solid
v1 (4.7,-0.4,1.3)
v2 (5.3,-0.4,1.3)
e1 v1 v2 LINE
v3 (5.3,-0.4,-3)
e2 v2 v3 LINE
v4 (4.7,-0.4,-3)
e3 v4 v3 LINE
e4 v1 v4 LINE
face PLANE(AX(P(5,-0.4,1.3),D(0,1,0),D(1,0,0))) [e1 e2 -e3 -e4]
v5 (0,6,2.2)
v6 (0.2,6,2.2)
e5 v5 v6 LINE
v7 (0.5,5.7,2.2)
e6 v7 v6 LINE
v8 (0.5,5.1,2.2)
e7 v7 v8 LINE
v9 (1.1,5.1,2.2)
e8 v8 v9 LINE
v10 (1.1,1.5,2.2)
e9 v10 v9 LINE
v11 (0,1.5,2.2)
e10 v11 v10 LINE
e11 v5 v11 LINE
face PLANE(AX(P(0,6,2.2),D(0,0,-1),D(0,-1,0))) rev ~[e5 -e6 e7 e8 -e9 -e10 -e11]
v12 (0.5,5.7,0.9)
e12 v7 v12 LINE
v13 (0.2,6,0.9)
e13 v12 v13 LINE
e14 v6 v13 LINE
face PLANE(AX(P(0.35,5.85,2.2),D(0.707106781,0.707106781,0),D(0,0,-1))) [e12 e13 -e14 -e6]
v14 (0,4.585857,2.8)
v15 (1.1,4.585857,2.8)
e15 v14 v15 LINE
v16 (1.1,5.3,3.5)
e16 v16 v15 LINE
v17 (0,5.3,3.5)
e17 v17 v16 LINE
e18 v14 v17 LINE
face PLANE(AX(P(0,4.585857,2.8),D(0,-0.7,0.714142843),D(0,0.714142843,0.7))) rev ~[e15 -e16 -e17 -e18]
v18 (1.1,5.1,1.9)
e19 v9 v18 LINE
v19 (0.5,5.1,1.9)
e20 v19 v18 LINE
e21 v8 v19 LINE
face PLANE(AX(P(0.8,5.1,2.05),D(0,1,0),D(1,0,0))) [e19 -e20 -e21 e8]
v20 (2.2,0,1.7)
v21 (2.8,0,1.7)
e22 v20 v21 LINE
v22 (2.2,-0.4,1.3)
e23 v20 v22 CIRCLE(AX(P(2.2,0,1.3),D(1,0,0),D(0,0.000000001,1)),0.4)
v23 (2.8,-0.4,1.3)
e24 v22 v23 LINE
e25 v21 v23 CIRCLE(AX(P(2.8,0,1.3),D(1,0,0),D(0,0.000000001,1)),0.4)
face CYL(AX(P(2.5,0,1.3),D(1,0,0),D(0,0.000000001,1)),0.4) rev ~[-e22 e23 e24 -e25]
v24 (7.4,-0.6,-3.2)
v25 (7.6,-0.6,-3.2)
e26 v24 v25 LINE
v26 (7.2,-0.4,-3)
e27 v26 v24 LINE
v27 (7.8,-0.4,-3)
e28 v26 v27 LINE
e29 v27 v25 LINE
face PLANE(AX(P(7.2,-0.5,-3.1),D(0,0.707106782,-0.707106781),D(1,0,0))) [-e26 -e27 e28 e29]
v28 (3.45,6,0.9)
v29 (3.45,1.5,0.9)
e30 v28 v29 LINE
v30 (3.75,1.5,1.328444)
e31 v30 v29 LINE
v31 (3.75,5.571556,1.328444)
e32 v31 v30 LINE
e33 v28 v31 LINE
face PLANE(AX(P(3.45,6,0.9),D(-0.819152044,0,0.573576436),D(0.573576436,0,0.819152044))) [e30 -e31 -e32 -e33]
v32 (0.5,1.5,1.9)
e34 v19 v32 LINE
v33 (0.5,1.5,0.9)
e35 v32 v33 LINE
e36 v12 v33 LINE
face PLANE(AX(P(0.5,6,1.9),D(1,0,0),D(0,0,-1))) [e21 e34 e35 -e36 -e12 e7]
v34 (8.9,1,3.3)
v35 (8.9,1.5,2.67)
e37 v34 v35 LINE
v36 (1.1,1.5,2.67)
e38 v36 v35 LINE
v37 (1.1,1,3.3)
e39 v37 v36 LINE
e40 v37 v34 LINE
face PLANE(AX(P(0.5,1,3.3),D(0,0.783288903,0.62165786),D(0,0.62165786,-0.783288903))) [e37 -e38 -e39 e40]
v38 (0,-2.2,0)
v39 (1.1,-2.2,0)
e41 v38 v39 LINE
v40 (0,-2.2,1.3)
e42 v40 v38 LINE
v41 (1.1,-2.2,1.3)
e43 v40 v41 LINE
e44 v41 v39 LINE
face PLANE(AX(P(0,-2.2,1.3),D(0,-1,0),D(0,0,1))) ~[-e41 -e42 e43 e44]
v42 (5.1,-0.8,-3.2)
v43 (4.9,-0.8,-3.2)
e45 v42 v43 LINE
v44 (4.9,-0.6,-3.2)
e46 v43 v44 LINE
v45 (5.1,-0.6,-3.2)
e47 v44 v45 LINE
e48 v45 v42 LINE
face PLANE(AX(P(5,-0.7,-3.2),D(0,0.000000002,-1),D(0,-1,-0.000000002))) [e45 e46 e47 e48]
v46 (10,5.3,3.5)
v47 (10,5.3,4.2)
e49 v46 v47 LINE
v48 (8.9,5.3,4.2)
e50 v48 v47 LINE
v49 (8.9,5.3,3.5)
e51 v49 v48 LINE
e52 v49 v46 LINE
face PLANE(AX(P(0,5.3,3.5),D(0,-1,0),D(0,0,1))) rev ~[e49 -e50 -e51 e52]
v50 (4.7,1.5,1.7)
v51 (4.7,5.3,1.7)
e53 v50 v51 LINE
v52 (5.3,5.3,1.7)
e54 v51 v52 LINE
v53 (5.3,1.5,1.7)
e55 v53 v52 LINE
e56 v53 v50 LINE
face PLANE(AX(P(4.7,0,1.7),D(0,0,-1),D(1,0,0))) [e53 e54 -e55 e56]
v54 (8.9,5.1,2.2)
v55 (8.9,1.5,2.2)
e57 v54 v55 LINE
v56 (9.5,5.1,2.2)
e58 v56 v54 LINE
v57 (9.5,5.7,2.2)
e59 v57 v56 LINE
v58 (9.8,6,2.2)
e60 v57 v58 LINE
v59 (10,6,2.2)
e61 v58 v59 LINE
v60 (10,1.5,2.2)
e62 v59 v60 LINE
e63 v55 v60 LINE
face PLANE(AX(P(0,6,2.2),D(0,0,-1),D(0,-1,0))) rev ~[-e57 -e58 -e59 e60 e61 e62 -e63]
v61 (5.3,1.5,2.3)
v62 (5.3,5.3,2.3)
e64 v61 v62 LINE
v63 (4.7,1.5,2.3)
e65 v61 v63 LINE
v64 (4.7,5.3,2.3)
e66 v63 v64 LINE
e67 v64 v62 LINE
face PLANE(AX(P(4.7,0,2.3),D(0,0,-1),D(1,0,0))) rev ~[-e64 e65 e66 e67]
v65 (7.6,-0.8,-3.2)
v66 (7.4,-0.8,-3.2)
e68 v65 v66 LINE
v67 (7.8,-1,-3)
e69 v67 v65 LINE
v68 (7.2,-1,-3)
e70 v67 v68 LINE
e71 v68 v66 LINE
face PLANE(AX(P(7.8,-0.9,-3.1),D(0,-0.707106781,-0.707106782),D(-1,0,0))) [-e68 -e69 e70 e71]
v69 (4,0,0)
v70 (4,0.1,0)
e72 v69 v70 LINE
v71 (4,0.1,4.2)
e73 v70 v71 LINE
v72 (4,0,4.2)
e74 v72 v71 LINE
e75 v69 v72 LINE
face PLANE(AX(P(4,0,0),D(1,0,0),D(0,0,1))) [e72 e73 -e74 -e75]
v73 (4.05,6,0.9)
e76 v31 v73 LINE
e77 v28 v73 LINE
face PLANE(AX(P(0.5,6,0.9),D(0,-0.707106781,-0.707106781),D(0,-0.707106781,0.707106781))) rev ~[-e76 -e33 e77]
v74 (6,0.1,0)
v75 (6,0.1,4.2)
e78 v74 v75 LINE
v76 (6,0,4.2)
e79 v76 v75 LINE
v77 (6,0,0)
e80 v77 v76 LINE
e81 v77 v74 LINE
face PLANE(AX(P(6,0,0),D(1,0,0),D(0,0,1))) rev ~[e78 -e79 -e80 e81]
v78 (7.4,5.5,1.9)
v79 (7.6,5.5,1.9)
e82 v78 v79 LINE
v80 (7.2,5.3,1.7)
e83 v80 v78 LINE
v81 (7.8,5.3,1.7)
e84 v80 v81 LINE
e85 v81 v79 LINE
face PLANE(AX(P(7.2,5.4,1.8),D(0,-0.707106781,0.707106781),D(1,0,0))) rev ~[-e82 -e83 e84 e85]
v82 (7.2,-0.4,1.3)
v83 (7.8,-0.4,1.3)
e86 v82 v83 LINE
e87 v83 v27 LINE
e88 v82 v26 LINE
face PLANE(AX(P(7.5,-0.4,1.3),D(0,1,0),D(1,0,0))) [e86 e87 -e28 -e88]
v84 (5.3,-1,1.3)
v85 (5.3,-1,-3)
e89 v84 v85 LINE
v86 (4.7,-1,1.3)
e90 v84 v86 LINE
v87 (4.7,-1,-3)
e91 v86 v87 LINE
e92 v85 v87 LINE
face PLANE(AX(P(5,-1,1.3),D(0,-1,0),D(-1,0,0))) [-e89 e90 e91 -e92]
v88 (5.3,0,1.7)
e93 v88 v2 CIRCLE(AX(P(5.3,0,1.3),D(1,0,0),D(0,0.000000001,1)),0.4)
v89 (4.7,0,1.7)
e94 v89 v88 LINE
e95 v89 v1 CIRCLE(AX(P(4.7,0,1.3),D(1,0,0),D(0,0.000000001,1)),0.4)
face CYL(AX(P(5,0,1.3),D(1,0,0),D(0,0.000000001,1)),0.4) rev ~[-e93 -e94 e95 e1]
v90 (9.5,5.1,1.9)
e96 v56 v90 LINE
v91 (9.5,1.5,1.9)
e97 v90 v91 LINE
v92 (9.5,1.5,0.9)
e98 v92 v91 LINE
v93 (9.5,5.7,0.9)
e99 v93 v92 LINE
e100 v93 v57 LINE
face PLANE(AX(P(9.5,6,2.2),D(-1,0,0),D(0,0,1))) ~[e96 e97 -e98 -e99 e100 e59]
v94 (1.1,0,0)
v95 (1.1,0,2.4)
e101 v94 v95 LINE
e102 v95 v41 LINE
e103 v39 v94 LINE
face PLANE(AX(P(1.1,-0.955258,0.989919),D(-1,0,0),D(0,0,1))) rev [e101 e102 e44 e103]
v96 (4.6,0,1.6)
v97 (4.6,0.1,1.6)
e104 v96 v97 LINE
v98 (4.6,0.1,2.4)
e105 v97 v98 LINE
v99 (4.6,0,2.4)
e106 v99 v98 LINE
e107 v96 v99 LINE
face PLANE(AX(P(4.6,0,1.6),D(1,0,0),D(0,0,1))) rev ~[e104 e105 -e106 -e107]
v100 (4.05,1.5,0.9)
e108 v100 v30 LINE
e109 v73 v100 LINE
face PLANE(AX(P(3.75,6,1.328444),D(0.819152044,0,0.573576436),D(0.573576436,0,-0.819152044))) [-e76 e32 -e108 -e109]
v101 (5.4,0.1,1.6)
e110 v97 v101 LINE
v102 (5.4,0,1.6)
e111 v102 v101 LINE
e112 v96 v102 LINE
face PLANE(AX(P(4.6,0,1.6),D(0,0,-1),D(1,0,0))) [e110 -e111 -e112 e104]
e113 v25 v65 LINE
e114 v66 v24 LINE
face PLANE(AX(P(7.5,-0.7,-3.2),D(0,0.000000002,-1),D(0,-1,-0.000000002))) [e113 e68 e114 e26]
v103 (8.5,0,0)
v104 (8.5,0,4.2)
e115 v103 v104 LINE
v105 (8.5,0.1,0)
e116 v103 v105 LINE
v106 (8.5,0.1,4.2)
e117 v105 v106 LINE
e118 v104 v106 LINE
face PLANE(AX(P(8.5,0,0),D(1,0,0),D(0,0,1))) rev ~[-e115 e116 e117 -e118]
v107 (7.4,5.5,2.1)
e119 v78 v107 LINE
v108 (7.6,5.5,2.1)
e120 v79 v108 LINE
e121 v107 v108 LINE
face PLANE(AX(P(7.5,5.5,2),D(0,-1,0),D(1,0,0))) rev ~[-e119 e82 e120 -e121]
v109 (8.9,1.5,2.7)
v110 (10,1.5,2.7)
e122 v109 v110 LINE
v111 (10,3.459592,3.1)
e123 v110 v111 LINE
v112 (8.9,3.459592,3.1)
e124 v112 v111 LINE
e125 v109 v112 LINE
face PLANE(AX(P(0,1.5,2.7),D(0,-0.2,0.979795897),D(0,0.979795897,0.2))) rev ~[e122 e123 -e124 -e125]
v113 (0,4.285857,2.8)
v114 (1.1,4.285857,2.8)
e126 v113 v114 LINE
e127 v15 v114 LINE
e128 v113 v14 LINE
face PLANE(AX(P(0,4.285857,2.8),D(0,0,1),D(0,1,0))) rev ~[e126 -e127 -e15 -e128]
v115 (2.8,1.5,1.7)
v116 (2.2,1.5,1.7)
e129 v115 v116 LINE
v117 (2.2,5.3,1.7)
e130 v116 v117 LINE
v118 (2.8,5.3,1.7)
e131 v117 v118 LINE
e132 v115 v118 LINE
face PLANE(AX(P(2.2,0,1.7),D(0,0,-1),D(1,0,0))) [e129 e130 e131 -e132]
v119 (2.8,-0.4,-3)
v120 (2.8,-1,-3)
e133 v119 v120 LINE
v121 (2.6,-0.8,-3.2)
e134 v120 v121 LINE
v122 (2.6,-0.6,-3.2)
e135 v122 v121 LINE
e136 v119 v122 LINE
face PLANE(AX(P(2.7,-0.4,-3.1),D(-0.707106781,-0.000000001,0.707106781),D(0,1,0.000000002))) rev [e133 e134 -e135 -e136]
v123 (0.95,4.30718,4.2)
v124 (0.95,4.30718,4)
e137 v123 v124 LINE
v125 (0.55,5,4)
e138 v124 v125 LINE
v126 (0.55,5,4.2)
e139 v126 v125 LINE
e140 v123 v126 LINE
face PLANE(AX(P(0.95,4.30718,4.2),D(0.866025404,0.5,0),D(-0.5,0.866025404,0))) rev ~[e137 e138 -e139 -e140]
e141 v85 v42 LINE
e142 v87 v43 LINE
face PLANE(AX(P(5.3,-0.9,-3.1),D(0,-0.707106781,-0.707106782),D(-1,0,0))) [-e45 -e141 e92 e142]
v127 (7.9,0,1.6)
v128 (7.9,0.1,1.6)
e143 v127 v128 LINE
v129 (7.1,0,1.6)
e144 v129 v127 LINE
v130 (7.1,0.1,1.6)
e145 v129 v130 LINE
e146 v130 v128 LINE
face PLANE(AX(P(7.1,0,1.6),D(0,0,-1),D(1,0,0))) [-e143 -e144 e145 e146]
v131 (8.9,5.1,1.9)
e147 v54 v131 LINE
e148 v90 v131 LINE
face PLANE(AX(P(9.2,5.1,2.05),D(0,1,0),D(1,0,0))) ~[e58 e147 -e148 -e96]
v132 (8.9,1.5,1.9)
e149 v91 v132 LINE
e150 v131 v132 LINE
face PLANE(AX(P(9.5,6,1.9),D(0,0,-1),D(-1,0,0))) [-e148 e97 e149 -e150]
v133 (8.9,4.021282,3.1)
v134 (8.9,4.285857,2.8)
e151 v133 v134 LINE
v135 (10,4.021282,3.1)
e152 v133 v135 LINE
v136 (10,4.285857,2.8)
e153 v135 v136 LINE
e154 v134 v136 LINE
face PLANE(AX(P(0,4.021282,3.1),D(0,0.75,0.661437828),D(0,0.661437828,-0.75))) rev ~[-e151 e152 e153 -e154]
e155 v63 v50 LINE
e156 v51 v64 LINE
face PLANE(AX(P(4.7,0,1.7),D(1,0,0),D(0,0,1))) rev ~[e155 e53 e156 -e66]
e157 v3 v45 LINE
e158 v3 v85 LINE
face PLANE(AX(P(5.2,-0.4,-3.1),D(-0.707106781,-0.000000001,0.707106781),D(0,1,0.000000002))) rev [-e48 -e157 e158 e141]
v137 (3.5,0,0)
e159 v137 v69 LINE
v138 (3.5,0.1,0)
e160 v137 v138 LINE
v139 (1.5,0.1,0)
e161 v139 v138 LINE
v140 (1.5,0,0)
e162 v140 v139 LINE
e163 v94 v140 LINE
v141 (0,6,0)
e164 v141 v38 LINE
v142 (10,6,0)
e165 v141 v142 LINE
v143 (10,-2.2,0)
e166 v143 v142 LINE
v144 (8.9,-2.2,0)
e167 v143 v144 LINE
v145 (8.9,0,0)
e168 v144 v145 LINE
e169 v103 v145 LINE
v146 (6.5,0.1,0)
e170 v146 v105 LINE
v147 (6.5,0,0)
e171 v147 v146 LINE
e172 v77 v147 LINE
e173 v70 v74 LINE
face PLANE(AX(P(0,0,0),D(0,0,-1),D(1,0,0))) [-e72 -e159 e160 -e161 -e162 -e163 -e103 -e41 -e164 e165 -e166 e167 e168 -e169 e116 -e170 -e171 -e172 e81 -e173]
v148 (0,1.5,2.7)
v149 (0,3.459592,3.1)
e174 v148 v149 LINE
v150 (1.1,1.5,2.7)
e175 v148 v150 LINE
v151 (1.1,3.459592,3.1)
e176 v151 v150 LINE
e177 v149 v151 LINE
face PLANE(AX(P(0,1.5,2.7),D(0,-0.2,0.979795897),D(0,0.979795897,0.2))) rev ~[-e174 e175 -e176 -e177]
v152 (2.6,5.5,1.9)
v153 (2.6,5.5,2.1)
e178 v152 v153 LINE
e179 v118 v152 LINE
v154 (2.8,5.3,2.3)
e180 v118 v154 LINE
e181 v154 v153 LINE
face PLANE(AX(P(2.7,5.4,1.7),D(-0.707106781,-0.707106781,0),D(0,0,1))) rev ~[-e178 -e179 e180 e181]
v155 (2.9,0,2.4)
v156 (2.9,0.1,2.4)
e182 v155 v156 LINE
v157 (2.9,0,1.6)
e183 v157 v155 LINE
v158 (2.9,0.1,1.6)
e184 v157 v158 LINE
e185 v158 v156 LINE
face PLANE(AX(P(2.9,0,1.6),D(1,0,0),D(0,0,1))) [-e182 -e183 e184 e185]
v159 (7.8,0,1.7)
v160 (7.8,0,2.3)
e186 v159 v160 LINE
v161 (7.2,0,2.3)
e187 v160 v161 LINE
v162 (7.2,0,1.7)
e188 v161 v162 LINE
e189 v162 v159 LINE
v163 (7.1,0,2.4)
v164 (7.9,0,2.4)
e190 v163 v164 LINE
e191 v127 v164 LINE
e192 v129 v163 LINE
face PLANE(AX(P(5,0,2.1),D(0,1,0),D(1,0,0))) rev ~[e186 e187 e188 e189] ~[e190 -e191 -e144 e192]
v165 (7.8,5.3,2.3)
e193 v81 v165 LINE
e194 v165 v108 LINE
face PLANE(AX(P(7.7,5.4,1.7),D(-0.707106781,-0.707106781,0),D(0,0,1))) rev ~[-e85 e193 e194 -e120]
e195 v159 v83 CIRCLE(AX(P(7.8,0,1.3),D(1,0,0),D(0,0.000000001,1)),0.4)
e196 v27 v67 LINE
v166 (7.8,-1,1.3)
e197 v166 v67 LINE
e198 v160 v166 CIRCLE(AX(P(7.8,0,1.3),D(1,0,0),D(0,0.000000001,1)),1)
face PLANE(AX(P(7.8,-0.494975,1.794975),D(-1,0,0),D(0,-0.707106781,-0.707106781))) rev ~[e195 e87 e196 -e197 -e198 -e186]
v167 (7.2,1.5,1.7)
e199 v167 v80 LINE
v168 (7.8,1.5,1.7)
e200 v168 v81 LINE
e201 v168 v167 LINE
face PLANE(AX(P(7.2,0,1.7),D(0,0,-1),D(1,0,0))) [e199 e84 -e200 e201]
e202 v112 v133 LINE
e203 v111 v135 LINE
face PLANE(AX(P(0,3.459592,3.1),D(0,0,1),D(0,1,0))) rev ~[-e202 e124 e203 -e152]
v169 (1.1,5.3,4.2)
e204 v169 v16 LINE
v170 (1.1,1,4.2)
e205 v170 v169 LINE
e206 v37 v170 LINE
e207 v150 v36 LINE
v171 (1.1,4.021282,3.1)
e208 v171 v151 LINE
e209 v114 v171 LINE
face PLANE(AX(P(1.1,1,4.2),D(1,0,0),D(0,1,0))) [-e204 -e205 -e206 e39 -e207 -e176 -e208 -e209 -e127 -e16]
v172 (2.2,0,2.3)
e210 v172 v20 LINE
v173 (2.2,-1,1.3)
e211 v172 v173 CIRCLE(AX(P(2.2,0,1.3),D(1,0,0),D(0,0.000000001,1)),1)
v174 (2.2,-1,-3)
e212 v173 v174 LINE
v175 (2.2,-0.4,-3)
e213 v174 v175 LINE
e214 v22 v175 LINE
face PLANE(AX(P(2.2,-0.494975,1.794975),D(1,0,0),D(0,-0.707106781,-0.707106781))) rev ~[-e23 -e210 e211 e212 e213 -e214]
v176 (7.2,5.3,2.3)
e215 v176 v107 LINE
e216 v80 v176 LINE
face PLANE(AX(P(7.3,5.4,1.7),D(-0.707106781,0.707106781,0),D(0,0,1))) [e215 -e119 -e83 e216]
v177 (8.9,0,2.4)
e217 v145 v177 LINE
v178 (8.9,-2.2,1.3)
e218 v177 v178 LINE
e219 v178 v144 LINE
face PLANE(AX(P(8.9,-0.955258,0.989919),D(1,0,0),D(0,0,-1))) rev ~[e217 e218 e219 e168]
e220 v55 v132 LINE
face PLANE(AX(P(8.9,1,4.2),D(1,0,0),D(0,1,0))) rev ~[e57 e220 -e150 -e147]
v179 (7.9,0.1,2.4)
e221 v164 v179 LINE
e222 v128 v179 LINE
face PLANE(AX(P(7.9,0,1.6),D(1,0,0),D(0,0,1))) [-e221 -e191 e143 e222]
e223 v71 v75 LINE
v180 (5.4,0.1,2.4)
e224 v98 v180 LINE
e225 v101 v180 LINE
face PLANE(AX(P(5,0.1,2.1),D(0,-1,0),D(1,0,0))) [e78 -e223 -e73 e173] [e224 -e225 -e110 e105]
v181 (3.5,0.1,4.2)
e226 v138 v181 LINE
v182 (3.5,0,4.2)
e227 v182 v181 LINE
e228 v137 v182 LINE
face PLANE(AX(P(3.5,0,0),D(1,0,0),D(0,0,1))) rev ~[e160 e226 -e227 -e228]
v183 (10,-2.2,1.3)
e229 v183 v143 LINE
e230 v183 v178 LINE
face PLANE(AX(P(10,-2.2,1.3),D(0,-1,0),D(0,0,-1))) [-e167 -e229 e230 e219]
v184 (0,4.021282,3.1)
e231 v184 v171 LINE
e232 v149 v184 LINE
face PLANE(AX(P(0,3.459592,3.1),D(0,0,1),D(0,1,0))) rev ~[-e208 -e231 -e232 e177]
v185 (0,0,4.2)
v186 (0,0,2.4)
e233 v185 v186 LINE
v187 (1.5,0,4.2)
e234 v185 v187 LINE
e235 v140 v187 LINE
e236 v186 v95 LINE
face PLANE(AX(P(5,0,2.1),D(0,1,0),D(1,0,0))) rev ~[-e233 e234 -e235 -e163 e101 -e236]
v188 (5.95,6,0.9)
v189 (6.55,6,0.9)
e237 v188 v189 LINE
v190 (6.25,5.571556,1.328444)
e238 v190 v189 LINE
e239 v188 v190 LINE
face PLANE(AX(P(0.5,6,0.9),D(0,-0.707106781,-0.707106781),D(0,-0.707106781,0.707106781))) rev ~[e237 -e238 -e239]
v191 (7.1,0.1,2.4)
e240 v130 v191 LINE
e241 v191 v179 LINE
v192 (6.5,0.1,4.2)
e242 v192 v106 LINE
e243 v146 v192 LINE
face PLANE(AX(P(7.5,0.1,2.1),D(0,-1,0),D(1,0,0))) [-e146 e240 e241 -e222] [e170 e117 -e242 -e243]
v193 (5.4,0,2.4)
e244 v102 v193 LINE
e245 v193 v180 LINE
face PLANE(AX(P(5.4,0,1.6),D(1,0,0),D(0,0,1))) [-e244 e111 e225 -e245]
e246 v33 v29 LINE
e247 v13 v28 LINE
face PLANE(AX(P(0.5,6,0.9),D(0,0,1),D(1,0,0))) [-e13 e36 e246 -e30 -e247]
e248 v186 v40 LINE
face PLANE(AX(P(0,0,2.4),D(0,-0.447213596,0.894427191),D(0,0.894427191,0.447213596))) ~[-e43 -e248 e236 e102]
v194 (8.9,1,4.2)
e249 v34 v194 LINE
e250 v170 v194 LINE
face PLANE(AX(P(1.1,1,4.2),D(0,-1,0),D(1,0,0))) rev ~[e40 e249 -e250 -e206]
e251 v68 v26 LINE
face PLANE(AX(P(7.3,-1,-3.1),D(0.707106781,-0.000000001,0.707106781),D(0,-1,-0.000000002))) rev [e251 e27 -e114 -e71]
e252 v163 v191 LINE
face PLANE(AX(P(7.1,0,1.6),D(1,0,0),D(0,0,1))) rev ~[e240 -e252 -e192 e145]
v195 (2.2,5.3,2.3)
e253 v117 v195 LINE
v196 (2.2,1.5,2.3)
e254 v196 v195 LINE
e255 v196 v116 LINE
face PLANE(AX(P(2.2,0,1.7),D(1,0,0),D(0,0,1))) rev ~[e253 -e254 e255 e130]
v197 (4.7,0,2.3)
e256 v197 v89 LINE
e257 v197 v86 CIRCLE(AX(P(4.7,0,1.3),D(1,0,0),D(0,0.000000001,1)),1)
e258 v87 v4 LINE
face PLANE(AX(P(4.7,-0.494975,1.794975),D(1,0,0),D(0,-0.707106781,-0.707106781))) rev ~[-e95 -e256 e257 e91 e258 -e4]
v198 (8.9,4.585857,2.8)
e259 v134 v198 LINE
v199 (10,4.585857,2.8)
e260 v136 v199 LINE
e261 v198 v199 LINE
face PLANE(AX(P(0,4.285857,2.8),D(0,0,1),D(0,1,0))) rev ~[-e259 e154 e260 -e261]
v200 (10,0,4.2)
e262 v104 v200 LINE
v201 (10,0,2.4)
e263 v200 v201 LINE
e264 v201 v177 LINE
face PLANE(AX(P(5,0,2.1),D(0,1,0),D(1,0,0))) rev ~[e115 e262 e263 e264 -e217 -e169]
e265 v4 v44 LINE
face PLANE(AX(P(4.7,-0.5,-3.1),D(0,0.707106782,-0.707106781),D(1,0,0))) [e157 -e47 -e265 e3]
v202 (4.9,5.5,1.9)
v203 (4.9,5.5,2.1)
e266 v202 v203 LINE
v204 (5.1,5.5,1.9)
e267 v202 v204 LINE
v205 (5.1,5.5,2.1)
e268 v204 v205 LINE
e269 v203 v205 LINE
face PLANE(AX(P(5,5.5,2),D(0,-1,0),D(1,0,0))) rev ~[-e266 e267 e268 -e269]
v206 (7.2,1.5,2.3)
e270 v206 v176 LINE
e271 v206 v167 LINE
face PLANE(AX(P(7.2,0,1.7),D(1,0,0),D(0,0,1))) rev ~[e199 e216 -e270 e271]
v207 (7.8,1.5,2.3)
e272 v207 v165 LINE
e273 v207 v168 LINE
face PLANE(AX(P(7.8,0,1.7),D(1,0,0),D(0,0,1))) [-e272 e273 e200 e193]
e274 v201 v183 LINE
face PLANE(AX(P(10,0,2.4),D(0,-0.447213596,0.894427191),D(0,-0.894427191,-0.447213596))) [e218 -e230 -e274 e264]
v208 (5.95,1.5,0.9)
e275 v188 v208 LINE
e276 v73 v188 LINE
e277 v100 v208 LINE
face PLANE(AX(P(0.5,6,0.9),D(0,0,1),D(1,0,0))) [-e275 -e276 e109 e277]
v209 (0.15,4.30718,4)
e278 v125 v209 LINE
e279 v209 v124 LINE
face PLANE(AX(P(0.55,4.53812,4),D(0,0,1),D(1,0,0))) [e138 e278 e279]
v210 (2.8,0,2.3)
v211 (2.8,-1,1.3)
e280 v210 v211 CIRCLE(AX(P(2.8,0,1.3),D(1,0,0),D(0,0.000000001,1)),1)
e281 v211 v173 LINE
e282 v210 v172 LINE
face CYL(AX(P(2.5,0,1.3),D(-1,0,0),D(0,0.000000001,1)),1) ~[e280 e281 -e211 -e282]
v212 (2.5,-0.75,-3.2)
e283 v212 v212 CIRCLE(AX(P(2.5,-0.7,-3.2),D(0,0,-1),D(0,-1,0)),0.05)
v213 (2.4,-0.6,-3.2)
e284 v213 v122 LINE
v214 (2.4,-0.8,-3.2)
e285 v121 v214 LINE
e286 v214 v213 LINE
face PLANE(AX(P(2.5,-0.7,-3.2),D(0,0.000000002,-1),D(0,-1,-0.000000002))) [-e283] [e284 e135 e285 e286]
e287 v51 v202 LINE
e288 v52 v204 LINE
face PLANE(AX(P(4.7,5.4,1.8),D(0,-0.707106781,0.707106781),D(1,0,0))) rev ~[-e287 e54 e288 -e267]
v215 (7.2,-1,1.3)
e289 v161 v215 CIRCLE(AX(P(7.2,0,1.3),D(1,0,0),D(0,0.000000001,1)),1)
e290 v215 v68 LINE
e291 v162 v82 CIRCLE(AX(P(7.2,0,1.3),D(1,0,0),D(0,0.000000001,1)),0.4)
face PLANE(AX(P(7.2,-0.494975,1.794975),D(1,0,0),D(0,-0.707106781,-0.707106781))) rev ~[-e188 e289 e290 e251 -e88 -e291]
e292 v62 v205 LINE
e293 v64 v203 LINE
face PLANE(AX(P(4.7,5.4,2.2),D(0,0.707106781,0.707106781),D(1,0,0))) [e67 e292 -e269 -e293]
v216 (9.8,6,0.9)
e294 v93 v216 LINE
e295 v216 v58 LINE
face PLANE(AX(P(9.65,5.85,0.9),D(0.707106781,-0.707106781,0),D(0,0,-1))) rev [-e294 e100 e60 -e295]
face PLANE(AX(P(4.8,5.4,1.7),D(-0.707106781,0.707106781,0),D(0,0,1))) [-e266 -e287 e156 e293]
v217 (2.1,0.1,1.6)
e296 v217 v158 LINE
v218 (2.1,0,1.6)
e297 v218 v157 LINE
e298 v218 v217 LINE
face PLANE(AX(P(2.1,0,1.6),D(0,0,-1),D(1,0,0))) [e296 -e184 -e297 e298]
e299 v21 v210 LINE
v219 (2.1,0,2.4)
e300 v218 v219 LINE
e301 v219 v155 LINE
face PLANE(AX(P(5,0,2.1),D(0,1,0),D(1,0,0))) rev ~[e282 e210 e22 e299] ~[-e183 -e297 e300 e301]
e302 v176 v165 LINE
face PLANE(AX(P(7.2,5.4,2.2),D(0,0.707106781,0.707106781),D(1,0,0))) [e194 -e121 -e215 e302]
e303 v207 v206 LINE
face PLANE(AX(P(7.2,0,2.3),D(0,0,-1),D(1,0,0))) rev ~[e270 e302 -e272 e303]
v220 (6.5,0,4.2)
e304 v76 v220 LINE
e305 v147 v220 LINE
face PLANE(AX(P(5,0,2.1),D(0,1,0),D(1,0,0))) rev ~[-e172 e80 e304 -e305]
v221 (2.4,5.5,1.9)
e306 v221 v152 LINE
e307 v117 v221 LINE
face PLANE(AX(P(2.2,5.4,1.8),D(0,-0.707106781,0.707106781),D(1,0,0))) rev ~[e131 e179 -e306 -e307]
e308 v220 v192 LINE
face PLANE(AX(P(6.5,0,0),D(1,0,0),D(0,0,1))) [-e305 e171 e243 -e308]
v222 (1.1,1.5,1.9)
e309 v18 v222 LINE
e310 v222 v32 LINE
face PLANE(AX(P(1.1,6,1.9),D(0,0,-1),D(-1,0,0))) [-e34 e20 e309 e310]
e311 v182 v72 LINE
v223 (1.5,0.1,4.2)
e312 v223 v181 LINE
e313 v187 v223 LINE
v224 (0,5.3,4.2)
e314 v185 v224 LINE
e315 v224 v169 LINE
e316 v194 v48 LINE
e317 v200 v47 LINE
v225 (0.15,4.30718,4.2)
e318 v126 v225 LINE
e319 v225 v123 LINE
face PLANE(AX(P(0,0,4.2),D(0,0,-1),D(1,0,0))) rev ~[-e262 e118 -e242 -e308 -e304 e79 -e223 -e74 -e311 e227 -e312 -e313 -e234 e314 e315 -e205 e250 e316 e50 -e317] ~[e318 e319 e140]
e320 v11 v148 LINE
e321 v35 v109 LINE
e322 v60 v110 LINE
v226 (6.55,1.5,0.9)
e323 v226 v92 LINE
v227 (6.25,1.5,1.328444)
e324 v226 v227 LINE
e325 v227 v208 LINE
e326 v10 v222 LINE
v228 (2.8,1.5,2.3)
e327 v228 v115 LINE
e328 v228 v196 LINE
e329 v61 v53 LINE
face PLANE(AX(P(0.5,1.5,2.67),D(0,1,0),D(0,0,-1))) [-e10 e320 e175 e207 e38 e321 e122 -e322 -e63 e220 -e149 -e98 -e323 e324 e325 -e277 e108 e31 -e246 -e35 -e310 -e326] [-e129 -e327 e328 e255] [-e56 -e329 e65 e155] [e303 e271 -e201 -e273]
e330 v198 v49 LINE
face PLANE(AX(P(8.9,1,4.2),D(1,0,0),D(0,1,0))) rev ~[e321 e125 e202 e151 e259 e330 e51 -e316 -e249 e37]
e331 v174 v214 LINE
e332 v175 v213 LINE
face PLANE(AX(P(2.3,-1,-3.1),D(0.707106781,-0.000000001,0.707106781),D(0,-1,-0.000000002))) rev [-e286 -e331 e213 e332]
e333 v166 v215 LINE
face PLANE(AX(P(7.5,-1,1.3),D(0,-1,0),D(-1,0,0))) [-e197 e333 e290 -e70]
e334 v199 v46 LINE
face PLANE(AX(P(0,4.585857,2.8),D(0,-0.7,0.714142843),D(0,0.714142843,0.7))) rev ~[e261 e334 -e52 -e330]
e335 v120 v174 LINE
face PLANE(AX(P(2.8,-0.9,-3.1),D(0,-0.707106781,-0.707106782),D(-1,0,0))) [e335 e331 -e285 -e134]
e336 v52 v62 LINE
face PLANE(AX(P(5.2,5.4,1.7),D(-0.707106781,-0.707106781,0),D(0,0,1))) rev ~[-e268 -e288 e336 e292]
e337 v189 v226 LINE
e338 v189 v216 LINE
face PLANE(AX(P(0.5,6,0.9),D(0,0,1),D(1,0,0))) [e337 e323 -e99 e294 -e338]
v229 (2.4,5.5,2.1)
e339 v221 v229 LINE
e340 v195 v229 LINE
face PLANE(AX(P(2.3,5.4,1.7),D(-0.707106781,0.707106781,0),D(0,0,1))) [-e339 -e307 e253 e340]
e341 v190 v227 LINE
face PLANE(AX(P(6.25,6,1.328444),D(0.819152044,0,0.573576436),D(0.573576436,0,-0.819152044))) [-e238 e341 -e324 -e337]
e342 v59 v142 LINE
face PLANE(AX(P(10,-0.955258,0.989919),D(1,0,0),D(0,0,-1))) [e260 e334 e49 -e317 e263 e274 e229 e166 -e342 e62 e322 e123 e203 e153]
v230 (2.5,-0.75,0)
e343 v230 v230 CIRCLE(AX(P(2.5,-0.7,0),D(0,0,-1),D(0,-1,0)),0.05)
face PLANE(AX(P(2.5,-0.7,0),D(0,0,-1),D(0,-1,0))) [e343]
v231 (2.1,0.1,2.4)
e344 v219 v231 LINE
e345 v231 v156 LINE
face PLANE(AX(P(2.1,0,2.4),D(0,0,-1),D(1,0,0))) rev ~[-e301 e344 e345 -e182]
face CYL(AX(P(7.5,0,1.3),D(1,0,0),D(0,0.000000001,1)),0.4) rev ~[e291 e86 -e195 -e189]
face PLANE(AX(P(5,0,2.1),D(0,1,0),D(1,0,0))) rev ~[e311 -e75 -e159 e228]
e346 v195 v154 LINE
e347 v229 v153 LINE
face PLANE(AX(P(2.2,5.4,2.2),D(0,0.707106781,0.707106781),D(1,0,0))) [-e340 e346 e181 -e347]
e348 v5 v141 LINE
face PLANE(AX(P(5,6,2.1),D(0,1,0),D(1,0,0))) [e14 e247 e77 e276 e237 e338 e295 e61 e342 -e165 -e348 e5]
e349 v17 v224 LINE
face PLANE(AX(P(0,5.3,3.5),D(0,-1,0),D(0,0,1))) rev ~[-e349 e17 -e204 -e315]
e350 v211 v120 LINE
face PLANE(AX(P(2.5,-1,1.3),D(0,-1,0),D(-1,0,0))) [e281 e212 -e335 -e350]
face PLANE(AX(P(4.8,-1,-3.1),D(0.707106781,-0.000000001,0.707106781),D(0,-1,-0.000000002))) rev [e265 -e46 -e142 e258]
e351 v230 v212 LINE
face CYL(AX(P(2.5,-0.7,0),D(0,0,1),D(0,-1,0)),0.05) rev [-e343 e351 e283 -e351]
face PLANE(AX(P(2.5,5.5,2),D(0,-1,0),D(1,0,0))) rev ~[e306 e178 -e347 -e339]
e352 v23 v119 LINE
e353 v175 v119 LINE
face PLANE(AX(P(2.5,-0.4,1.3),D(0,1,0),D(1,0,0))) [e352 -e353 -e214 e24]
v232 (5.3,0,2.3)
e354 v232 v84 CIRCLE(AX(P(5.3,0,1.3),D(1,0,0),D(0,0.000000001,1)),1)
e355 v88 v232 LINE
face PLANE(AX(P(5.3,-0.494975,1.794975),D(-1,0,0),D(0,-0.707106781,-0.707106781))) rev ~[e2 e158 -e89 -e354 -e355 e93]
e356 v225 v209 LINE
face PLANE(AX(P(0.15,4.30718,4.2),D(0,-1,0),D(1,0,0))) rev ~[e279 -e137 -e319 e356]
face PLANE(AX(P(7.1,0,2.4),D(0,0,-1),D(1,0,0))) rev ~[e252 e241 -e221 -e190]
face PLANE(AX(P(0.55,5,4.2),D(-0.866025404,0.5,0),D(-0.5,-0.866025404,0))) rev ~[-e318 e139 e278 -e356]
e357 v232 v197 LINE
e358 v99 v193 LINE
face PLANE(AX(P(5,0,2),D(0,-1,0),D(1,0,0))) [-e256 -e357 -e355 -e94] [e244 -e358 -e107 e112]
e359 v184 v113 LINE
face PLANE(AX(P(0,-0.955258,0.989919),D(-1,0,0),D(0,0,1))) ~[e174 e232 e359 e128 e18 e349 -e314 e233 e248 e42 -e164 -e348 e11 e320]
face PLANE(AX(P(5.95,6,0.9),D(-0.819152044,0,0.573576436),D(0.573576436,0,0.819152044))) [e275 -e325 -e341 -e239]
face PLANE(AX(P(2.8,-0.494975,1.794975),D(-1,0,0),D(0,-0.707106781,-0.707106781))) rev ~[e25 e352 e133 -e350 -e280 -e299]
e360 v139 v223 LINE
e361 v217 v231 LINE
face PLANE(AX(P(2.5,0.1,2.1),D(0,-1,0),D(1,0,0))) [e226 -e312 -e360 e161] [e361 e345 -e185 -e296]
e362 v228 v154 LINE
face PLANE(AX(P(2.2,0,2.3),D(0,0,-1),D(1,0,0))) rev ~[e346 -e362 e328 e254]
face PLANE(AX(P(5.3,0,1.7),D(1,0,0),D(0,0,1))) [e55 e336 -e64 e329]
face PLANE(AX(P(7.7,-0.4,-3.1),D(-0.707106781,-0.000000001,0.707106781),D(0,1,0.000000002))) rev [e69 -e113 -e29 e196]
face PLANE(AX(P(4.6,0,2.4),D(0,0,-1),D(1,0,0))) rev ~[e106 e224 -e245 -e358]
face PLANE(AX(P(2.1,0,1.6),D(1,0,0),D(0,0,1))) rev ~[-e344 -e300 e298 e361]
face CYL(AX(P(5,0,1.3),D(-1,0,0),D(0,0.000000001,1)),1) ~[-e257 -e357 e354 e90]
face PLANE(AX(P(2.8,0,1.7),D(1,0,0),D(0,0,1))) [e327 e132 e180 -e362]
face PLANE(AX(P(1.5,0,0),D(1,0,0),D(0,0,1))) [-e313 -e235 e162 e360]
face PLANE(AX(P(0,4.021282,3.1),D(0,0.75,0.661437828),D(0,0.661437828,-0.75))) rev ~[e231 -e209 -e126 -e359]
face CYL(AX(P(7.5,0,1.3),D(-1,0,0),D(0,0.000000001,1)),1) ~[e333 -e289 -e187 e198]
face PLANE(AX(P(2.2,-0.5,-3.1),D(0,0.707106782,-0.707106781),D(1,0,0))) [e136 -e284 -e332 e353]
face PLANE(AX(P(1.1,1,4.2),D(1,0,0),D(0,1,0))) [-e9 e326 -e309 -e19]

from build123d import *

# Parameters (mm, degrees)
SKETCH_1_W                         = 10
SKETCH_1_H                         = 4.2
EXTRUDE_1_DEPTH                    = 6
CUT_EXTRUDE_1_DEPTH                = 5
CUT_EXTRUDE_2_DEPTH                = 13.395160346
EXTRUDE_6_DEPTH                    = 1.1
CUT_EXTRUDE_3_REACH                = 14.395
SKETCH_5_W                         = 7.8
SKETCH_5_H                         = 4.3
EXTRUDE_3_REACH                    = 13.995
EXTRUDE_5_REACH                    = 15.597
SKETCH_11_W                        = 2
SKETCH_11_H                        = 4.2
SKETCH_11_W_2                      = 0.8
SKETCH_11_H_2                      = 0.8
CUT_EXTRUDE_5_DEPTH                = 0.1
SKETCH_15_R                        = 0.05
CUT_EXTRUDE_6_DEPTH                = 0.1
PATTERN_LINEAR_2_COUNT             = 2
PATTERN_LINEAR_2_PITCH             = 2.5
CUT_EXTRUDE_7_DEPTH                = 0.2
SKETCH_7_W                         = 0.6
SKETCH_7_H                         = 0.6
EXTRUDE_4_DEPTH                    = 5.5
SKETCH_18_W                        = 0.6
SKETCH_18_H                        = 0.6
CHAMFER_6_SIZE                     = 0.2
PATTERN_LINEAR_1_COUNT             = 3
PATTERN_LINEAR_1_PITCH             = 2.5
CHAMFER_6_OF_PATTERN_LINEAR_1_SIZE = 0.2
CUT_EXTRUDE_4_REACH                = 13.995
SKETCH_20_W                        = 0.6
SKETCH_20_H                        = 0.3
CUT_EXTRUDE_9_DEPTH                = 0.9
CHAMFER_5_SIZE                     = 0.3
SKETCH_19_R                        = 0.05
CUT_EXTRUDE_8_DEPTH                = 3.2


with BuildPart() as part:
    # Эскиз1 → Бобышка-Вытянуть1 (new body)
    with BuildSketch(Plane(origin=(0, 0, 0), x_dir=(1, 0, 0), z_dir=(0, 1, 0))):
        with Locations((5, -2.1)):
            Rectangle(SKETCH_1_W, SKETCH_1_H)
    extrude(amount=EXTRUDE_1_DEPTH)

    # Эскиз2 → Вырез-Вытянуть1 (cut)
    with BuildSketch(Plane(origin=(0, 6, 0), x_dir=(1, 0, 0), z_dir=(0, 1, 0))):
        Polygon((0.5, -0.9), (9.5, -0.9), (9.5, -1.9), (8.9, -1.9), (8.9, -3.7), (1.1, -3.7), (1.1, -1.9), (0.5, -1.9), align=None)
    extrude(amount=-CUT_EXTRUDE_1_DEPTH, mode=Mode.SUBTRACT)

    # Эскиз3 → Вырез-Вытянуть2 (cut, through all)
    with BuildSketch(Plane.ZY):
        Polygon((2.2, 6), (2.2, 1.5), (2.7, 1.5), (3.1, 3.459591794), (3.1, 4.021282026), (2.8, 4.285857157), (2.8, 4.585857157), (3.5, 5.3), (4.2, 5.3), (4.2, 6), align=None)
    extrude(amount=-CUT_EXTRUDE_2_DEPTH, mode=Mode.SUBTRACT)

    # Эскиз16 → Бобышка-Вытянуть6 (add)
    with BuildSketch(Plane(origin=(10, 0, 0), x_dir=(0, 0, -1), z_dir=(1, 0, 0))):
        Polygon((-2.4, 0), (-1.3, -2.2), (0, -2.2), (0, 0), align=None)
    extrude_6 = extrude(amount=-EXTRUDE_6_DEPTH)

    # Зеркальное отражение2: Бобышка-Вытянуть6 across plane
    add(extrude_6.mirror(Plane(origin=(5, 0, 0), x_dir=(0, 0, 1), z_dir=(1, 0, 0))))

    # Эскиз5 → Вырез-Вытянуть3 (cut, up to next)
    with BuildSketch(Plane.XY.offset(4.2), mode=Mode.PRIVATE) as cut_extrude_3_sk1:
        with Locations((5, 3.15)):
            Rectangle(SKETCH_5_W, SKETCH_5_H)
    cut_extrude_3_tool1 = extrude(cut_extrude_3_sk1.sketch, amount=-CUT_EXTRUDE_3_REACH, mode=Mode.PRIVATE) & part.part
    add(cut_extrude_3_tool1.solids().sort_by_distance((5, 3.15, 4.2))[0], mode=Mode.SUBTRACT)

    # Эскиз6 → Бобышка-Вытянуть3 (add, up to next)
    with BuildSketch(Plane(origin=(0.5, 0, 0), x_dir=(0, 0, -1), z_dir=(1, 0, 0)), mode=Mode.PRIVATE) as extrude_3_sk1:
        Polygon((-3.3, 1), (-2.67, 1.5), (-0.9, 1.5), (-0.9, 1), align=None)
    extrude_3_tool1 = extrude(extrude_3_sk1.sketch, amount=EXTRUDE_3_REACH, mode=Mode.PRIVATE) - part.part
    add(extrude_3_tool1.solids().sort_by_distance((0.5, 1.23741, 1.950432))[0])

    # Эскиз9 → Бобышка-Вытянуть5 (add, up to next)
    with BuildSketch(Plane(origin=(0, 6, 0), x_dir=(1, 0, 0), z_dir=(0, 1, 0)), mode=Mode.PRIVATE) as extrude_5_sk1:
        Polygon((3.45, -0.9), (3.75, -1.328444402), (4.05, -0.9), align=None)
    extrude_5_tool1 = extrude(extrude_5_sk1.sketch, amount=-EXTRUDE_5_REACH, mode=Mode.PRIVATE) - part.part
    extrude_5 = extrude_5_tool1.solids().sort_by_distance((3.75, 6, 1.042815))[0]
    add(extrude_5)

    # Эскиз11 → Вырез-Вытянуть5 (cut)
    with BuildSketch(Plane.XZ):
        with Locations((2.5, 2.1)):
            Rectangle(SKETCH_11_W, SKETCH_11_H)
        with Locations((2.5, 2)):
            Rectangle(SKETCH_11_W_2, SKETCH_11_H_2, mode=Mode.SUBTRACT)
    cut_extrude_5 = extrude(amount=-CUT_EXTRUDE_5_DEPTH, mode=Mode.SUBTRACT)

    # Эскиз15 → Вырез-Вытянуть6 (cut)
    with BuildSketch(Plane.XZ):
        with Locations(Location((2.5, 2, 0), (0, 0, 270))):
            Circle(SKETCH_15_R)
    extrude(amount=-CUT_EXTRUDE_6_DEPTH, mode=Mode.SUBTRACT)

    # Линейный массив2: Бобышка-Вытянуть5 ×2
    with Locations(*[(i * PATTERN_LINEAR_2_PITCH, 0, 0) for i in range(1, PATTERN_LINEAR_2_COUNT)]):
        add(extrude_5)

    # Эскиз17 → Вырез-Вытянуть7 (cut)
    with BuildSketch(Plane.XY.offset(4.2)):
        Polygon((0.55, 5), (0.15, 4.307179677), (0.95, 4.307179677), align=None)
    extrude(amount=-CUT_EXTRUDE_7_DEPTH, mode=Mode.SUBTRACT)

    # Эскиз7 → Бобышка-Вытянуть4 (add)
    with BuildSketch(Plane.XZ):
        with Locations((2.5, 2)):
            Rectangle(SKETCH_7_W, SKETCH_7_H)
    extrude_4 = extrude(amount=-EXTRUDE_4_DEPTH)

    # По траектории1: sweep along a curve in space
    with BuildLine() as sweep_1_path:
        Line((2.5, -0.7, 1.3), (2.5, -0.7, -3.2))
        ThreePointArc((2.5, 0, 2), (2.5, -0.494974747, 1.794974747), (2.5, -0.7, 1.3))
    # Эскиз18 → По траектории1 (sweep)
    with BuildSketch(Plane.XZ):
        with Locations((2.5, 2)):
            Rectangle(SKETCH_18_W, SKETCH_18_H)
    sweep_1 = sweep(path=sweep_1_path.line)

    # Фаска6
    chamfer_6_edges = [part.edges().sort_by_distance(p)[0] for p in [
        (2.8, 5.5, 2),
        (2.5, 5.5, 1.7),
        (2.2, 5.5, 2),
        (2.5, 5.5, 2.3),
        (2.8, -0.7, -3.2),
        (2.5, -1, -3.2),
        (2.2, -0.7, -3.2),
        (2.5, -0.4, -3.2),
    ]]
    chamfer(chamfer_6_edges, length=CHAMFER_6_SIZE)

    # Линейный массив1: Вырез-Вытянуть5, Бобышка-Вытянуть4, По траектории1 ×3
    with Locations(*[(i * PATTERN_LINEAR_1_PITCH, 0, 0) for i in range(1, PATTERN_LINEAR_1_COUNT)]):
        add(cut_extrude_5, mode=Mode.SUBTRACT)
        add(extrude_4)
        add(sweep_1)

    # Фаска6 of Линейный массив1
    chamfer_6_of_pattern_linear_1_edges = [part.edges().sort_by_distance(p)[0] for p in [
        (5.3, 5.5, 2),
        (5, 5.5, 1.7),
        (4.7, 5.5, 2),
        (5, 5.5, 2.3),
        (5.3, -0.7, -3.2),
        (5, -1, -3.2),
        (4.7, -0.7, -3.2),
        (5, -0.4, -3.2),
        (7.8, 5.5, 2),
        (7.5, 5.5, 1.7),
        (7.2, 5.5, 2),
        (7.5, 5.5, 2.3),
        (7.8, -0.7, -3.2),
        (7.5, -1, -3.2),
        (7.2, -0.7, -3.2),
        (7.5, -0.4, -3.2),
    ]]
    chamfer(chamfer_6_of_pattern_linear_1_edges, length=CHAMFER_6_OF_PATTERN_LINEAR_1_SIZE)

    # Вырез-Вытянуть4: up to this face of the body (flat: up to its plane)
    cut_extrude_4_end = Plane(part.part.faces().sort_by_distance((9.5, 3.75, 1.4))[0])
    # Эскиз10 → Вырез-Вытянуть4 (cut, up to the picked face)
    with BuildSketch(Plane(origin=(0.5, 0, 0), x_dir=(0, 0, -1), z_dir=(1, 0, 0)), mode=Mode.PRIVATE) as cut_extrude_4_sk1:
        Polygon((-1.4, 6), (-0.9, 6), (-1.4, 5.5), align=None)
    cut_extrude_4_tool1 = split(extrude(cut_extrude_4_sk1.sketch, amount=CUT_EXTRUDE_4_REACH, mode=Mode.PRIVATE), bisect_by=cut_extrude_4_end, keep=Keep.BOTH, mode=Mode.PRIVATE)
    add(cut_extrude_4_tool1.solids().sort_by(Axis((0.5, 5.833333, 1.233333), (1, 0, 0)))[0], mode=Mode.SUBTRACT)

    # Эскиз20 → Вырез-Вытянуть9 (cut)
    with BuildSketch(Plane(origin=(0, 6, 0), x_dir=(1, 0, 0), z_dir=(0, 1, 0))):
        with Locations((0.8, -2.05)):
            Rectangle(SKETCH_20_W, SKETCH_20_H)
    cut_extrude_9 = extrude(amount=-CUT_EXTRUDE_9_DEPTH, mode=Mode.SUBTRACT)

    # Зеркальное отражение3: Вырез-Вытянуть9 across plane
    add(cut_extrude_9.mirror(Plane(origin=(5, 0, 0), x_dir=(0, 0, 1), z_dir=(1, 0, 0))), mode=Mode.SUBTRACT)

    # Фаска5
    chamfer_5_edges = [part.edges().sort_by_distance(p)[0] for p in [
        (0.5, 6, 1.55),
        (9.5, 6, 1.55),
    ]]
    chamfer(chamfer_5_edges, length=CHAMFER_5_SIZE)

    # Эскиз19 → Вырез-Вытянуть8 (cut)
    with BuildSketch(Plane(origin=(0, 0, 0), x_dir=(-1, 0, 0), z_dir=(0, 0, -1))):
        with Locations(Location((-2.5, -0.7, 0), (0, 0, 270))):
            Circle(SKETCH_19_R)
    extrude(amount=CUT_EXTRUDE_8_DEPTH, mode=Mode.SUBTRACT)


solid = part.part
